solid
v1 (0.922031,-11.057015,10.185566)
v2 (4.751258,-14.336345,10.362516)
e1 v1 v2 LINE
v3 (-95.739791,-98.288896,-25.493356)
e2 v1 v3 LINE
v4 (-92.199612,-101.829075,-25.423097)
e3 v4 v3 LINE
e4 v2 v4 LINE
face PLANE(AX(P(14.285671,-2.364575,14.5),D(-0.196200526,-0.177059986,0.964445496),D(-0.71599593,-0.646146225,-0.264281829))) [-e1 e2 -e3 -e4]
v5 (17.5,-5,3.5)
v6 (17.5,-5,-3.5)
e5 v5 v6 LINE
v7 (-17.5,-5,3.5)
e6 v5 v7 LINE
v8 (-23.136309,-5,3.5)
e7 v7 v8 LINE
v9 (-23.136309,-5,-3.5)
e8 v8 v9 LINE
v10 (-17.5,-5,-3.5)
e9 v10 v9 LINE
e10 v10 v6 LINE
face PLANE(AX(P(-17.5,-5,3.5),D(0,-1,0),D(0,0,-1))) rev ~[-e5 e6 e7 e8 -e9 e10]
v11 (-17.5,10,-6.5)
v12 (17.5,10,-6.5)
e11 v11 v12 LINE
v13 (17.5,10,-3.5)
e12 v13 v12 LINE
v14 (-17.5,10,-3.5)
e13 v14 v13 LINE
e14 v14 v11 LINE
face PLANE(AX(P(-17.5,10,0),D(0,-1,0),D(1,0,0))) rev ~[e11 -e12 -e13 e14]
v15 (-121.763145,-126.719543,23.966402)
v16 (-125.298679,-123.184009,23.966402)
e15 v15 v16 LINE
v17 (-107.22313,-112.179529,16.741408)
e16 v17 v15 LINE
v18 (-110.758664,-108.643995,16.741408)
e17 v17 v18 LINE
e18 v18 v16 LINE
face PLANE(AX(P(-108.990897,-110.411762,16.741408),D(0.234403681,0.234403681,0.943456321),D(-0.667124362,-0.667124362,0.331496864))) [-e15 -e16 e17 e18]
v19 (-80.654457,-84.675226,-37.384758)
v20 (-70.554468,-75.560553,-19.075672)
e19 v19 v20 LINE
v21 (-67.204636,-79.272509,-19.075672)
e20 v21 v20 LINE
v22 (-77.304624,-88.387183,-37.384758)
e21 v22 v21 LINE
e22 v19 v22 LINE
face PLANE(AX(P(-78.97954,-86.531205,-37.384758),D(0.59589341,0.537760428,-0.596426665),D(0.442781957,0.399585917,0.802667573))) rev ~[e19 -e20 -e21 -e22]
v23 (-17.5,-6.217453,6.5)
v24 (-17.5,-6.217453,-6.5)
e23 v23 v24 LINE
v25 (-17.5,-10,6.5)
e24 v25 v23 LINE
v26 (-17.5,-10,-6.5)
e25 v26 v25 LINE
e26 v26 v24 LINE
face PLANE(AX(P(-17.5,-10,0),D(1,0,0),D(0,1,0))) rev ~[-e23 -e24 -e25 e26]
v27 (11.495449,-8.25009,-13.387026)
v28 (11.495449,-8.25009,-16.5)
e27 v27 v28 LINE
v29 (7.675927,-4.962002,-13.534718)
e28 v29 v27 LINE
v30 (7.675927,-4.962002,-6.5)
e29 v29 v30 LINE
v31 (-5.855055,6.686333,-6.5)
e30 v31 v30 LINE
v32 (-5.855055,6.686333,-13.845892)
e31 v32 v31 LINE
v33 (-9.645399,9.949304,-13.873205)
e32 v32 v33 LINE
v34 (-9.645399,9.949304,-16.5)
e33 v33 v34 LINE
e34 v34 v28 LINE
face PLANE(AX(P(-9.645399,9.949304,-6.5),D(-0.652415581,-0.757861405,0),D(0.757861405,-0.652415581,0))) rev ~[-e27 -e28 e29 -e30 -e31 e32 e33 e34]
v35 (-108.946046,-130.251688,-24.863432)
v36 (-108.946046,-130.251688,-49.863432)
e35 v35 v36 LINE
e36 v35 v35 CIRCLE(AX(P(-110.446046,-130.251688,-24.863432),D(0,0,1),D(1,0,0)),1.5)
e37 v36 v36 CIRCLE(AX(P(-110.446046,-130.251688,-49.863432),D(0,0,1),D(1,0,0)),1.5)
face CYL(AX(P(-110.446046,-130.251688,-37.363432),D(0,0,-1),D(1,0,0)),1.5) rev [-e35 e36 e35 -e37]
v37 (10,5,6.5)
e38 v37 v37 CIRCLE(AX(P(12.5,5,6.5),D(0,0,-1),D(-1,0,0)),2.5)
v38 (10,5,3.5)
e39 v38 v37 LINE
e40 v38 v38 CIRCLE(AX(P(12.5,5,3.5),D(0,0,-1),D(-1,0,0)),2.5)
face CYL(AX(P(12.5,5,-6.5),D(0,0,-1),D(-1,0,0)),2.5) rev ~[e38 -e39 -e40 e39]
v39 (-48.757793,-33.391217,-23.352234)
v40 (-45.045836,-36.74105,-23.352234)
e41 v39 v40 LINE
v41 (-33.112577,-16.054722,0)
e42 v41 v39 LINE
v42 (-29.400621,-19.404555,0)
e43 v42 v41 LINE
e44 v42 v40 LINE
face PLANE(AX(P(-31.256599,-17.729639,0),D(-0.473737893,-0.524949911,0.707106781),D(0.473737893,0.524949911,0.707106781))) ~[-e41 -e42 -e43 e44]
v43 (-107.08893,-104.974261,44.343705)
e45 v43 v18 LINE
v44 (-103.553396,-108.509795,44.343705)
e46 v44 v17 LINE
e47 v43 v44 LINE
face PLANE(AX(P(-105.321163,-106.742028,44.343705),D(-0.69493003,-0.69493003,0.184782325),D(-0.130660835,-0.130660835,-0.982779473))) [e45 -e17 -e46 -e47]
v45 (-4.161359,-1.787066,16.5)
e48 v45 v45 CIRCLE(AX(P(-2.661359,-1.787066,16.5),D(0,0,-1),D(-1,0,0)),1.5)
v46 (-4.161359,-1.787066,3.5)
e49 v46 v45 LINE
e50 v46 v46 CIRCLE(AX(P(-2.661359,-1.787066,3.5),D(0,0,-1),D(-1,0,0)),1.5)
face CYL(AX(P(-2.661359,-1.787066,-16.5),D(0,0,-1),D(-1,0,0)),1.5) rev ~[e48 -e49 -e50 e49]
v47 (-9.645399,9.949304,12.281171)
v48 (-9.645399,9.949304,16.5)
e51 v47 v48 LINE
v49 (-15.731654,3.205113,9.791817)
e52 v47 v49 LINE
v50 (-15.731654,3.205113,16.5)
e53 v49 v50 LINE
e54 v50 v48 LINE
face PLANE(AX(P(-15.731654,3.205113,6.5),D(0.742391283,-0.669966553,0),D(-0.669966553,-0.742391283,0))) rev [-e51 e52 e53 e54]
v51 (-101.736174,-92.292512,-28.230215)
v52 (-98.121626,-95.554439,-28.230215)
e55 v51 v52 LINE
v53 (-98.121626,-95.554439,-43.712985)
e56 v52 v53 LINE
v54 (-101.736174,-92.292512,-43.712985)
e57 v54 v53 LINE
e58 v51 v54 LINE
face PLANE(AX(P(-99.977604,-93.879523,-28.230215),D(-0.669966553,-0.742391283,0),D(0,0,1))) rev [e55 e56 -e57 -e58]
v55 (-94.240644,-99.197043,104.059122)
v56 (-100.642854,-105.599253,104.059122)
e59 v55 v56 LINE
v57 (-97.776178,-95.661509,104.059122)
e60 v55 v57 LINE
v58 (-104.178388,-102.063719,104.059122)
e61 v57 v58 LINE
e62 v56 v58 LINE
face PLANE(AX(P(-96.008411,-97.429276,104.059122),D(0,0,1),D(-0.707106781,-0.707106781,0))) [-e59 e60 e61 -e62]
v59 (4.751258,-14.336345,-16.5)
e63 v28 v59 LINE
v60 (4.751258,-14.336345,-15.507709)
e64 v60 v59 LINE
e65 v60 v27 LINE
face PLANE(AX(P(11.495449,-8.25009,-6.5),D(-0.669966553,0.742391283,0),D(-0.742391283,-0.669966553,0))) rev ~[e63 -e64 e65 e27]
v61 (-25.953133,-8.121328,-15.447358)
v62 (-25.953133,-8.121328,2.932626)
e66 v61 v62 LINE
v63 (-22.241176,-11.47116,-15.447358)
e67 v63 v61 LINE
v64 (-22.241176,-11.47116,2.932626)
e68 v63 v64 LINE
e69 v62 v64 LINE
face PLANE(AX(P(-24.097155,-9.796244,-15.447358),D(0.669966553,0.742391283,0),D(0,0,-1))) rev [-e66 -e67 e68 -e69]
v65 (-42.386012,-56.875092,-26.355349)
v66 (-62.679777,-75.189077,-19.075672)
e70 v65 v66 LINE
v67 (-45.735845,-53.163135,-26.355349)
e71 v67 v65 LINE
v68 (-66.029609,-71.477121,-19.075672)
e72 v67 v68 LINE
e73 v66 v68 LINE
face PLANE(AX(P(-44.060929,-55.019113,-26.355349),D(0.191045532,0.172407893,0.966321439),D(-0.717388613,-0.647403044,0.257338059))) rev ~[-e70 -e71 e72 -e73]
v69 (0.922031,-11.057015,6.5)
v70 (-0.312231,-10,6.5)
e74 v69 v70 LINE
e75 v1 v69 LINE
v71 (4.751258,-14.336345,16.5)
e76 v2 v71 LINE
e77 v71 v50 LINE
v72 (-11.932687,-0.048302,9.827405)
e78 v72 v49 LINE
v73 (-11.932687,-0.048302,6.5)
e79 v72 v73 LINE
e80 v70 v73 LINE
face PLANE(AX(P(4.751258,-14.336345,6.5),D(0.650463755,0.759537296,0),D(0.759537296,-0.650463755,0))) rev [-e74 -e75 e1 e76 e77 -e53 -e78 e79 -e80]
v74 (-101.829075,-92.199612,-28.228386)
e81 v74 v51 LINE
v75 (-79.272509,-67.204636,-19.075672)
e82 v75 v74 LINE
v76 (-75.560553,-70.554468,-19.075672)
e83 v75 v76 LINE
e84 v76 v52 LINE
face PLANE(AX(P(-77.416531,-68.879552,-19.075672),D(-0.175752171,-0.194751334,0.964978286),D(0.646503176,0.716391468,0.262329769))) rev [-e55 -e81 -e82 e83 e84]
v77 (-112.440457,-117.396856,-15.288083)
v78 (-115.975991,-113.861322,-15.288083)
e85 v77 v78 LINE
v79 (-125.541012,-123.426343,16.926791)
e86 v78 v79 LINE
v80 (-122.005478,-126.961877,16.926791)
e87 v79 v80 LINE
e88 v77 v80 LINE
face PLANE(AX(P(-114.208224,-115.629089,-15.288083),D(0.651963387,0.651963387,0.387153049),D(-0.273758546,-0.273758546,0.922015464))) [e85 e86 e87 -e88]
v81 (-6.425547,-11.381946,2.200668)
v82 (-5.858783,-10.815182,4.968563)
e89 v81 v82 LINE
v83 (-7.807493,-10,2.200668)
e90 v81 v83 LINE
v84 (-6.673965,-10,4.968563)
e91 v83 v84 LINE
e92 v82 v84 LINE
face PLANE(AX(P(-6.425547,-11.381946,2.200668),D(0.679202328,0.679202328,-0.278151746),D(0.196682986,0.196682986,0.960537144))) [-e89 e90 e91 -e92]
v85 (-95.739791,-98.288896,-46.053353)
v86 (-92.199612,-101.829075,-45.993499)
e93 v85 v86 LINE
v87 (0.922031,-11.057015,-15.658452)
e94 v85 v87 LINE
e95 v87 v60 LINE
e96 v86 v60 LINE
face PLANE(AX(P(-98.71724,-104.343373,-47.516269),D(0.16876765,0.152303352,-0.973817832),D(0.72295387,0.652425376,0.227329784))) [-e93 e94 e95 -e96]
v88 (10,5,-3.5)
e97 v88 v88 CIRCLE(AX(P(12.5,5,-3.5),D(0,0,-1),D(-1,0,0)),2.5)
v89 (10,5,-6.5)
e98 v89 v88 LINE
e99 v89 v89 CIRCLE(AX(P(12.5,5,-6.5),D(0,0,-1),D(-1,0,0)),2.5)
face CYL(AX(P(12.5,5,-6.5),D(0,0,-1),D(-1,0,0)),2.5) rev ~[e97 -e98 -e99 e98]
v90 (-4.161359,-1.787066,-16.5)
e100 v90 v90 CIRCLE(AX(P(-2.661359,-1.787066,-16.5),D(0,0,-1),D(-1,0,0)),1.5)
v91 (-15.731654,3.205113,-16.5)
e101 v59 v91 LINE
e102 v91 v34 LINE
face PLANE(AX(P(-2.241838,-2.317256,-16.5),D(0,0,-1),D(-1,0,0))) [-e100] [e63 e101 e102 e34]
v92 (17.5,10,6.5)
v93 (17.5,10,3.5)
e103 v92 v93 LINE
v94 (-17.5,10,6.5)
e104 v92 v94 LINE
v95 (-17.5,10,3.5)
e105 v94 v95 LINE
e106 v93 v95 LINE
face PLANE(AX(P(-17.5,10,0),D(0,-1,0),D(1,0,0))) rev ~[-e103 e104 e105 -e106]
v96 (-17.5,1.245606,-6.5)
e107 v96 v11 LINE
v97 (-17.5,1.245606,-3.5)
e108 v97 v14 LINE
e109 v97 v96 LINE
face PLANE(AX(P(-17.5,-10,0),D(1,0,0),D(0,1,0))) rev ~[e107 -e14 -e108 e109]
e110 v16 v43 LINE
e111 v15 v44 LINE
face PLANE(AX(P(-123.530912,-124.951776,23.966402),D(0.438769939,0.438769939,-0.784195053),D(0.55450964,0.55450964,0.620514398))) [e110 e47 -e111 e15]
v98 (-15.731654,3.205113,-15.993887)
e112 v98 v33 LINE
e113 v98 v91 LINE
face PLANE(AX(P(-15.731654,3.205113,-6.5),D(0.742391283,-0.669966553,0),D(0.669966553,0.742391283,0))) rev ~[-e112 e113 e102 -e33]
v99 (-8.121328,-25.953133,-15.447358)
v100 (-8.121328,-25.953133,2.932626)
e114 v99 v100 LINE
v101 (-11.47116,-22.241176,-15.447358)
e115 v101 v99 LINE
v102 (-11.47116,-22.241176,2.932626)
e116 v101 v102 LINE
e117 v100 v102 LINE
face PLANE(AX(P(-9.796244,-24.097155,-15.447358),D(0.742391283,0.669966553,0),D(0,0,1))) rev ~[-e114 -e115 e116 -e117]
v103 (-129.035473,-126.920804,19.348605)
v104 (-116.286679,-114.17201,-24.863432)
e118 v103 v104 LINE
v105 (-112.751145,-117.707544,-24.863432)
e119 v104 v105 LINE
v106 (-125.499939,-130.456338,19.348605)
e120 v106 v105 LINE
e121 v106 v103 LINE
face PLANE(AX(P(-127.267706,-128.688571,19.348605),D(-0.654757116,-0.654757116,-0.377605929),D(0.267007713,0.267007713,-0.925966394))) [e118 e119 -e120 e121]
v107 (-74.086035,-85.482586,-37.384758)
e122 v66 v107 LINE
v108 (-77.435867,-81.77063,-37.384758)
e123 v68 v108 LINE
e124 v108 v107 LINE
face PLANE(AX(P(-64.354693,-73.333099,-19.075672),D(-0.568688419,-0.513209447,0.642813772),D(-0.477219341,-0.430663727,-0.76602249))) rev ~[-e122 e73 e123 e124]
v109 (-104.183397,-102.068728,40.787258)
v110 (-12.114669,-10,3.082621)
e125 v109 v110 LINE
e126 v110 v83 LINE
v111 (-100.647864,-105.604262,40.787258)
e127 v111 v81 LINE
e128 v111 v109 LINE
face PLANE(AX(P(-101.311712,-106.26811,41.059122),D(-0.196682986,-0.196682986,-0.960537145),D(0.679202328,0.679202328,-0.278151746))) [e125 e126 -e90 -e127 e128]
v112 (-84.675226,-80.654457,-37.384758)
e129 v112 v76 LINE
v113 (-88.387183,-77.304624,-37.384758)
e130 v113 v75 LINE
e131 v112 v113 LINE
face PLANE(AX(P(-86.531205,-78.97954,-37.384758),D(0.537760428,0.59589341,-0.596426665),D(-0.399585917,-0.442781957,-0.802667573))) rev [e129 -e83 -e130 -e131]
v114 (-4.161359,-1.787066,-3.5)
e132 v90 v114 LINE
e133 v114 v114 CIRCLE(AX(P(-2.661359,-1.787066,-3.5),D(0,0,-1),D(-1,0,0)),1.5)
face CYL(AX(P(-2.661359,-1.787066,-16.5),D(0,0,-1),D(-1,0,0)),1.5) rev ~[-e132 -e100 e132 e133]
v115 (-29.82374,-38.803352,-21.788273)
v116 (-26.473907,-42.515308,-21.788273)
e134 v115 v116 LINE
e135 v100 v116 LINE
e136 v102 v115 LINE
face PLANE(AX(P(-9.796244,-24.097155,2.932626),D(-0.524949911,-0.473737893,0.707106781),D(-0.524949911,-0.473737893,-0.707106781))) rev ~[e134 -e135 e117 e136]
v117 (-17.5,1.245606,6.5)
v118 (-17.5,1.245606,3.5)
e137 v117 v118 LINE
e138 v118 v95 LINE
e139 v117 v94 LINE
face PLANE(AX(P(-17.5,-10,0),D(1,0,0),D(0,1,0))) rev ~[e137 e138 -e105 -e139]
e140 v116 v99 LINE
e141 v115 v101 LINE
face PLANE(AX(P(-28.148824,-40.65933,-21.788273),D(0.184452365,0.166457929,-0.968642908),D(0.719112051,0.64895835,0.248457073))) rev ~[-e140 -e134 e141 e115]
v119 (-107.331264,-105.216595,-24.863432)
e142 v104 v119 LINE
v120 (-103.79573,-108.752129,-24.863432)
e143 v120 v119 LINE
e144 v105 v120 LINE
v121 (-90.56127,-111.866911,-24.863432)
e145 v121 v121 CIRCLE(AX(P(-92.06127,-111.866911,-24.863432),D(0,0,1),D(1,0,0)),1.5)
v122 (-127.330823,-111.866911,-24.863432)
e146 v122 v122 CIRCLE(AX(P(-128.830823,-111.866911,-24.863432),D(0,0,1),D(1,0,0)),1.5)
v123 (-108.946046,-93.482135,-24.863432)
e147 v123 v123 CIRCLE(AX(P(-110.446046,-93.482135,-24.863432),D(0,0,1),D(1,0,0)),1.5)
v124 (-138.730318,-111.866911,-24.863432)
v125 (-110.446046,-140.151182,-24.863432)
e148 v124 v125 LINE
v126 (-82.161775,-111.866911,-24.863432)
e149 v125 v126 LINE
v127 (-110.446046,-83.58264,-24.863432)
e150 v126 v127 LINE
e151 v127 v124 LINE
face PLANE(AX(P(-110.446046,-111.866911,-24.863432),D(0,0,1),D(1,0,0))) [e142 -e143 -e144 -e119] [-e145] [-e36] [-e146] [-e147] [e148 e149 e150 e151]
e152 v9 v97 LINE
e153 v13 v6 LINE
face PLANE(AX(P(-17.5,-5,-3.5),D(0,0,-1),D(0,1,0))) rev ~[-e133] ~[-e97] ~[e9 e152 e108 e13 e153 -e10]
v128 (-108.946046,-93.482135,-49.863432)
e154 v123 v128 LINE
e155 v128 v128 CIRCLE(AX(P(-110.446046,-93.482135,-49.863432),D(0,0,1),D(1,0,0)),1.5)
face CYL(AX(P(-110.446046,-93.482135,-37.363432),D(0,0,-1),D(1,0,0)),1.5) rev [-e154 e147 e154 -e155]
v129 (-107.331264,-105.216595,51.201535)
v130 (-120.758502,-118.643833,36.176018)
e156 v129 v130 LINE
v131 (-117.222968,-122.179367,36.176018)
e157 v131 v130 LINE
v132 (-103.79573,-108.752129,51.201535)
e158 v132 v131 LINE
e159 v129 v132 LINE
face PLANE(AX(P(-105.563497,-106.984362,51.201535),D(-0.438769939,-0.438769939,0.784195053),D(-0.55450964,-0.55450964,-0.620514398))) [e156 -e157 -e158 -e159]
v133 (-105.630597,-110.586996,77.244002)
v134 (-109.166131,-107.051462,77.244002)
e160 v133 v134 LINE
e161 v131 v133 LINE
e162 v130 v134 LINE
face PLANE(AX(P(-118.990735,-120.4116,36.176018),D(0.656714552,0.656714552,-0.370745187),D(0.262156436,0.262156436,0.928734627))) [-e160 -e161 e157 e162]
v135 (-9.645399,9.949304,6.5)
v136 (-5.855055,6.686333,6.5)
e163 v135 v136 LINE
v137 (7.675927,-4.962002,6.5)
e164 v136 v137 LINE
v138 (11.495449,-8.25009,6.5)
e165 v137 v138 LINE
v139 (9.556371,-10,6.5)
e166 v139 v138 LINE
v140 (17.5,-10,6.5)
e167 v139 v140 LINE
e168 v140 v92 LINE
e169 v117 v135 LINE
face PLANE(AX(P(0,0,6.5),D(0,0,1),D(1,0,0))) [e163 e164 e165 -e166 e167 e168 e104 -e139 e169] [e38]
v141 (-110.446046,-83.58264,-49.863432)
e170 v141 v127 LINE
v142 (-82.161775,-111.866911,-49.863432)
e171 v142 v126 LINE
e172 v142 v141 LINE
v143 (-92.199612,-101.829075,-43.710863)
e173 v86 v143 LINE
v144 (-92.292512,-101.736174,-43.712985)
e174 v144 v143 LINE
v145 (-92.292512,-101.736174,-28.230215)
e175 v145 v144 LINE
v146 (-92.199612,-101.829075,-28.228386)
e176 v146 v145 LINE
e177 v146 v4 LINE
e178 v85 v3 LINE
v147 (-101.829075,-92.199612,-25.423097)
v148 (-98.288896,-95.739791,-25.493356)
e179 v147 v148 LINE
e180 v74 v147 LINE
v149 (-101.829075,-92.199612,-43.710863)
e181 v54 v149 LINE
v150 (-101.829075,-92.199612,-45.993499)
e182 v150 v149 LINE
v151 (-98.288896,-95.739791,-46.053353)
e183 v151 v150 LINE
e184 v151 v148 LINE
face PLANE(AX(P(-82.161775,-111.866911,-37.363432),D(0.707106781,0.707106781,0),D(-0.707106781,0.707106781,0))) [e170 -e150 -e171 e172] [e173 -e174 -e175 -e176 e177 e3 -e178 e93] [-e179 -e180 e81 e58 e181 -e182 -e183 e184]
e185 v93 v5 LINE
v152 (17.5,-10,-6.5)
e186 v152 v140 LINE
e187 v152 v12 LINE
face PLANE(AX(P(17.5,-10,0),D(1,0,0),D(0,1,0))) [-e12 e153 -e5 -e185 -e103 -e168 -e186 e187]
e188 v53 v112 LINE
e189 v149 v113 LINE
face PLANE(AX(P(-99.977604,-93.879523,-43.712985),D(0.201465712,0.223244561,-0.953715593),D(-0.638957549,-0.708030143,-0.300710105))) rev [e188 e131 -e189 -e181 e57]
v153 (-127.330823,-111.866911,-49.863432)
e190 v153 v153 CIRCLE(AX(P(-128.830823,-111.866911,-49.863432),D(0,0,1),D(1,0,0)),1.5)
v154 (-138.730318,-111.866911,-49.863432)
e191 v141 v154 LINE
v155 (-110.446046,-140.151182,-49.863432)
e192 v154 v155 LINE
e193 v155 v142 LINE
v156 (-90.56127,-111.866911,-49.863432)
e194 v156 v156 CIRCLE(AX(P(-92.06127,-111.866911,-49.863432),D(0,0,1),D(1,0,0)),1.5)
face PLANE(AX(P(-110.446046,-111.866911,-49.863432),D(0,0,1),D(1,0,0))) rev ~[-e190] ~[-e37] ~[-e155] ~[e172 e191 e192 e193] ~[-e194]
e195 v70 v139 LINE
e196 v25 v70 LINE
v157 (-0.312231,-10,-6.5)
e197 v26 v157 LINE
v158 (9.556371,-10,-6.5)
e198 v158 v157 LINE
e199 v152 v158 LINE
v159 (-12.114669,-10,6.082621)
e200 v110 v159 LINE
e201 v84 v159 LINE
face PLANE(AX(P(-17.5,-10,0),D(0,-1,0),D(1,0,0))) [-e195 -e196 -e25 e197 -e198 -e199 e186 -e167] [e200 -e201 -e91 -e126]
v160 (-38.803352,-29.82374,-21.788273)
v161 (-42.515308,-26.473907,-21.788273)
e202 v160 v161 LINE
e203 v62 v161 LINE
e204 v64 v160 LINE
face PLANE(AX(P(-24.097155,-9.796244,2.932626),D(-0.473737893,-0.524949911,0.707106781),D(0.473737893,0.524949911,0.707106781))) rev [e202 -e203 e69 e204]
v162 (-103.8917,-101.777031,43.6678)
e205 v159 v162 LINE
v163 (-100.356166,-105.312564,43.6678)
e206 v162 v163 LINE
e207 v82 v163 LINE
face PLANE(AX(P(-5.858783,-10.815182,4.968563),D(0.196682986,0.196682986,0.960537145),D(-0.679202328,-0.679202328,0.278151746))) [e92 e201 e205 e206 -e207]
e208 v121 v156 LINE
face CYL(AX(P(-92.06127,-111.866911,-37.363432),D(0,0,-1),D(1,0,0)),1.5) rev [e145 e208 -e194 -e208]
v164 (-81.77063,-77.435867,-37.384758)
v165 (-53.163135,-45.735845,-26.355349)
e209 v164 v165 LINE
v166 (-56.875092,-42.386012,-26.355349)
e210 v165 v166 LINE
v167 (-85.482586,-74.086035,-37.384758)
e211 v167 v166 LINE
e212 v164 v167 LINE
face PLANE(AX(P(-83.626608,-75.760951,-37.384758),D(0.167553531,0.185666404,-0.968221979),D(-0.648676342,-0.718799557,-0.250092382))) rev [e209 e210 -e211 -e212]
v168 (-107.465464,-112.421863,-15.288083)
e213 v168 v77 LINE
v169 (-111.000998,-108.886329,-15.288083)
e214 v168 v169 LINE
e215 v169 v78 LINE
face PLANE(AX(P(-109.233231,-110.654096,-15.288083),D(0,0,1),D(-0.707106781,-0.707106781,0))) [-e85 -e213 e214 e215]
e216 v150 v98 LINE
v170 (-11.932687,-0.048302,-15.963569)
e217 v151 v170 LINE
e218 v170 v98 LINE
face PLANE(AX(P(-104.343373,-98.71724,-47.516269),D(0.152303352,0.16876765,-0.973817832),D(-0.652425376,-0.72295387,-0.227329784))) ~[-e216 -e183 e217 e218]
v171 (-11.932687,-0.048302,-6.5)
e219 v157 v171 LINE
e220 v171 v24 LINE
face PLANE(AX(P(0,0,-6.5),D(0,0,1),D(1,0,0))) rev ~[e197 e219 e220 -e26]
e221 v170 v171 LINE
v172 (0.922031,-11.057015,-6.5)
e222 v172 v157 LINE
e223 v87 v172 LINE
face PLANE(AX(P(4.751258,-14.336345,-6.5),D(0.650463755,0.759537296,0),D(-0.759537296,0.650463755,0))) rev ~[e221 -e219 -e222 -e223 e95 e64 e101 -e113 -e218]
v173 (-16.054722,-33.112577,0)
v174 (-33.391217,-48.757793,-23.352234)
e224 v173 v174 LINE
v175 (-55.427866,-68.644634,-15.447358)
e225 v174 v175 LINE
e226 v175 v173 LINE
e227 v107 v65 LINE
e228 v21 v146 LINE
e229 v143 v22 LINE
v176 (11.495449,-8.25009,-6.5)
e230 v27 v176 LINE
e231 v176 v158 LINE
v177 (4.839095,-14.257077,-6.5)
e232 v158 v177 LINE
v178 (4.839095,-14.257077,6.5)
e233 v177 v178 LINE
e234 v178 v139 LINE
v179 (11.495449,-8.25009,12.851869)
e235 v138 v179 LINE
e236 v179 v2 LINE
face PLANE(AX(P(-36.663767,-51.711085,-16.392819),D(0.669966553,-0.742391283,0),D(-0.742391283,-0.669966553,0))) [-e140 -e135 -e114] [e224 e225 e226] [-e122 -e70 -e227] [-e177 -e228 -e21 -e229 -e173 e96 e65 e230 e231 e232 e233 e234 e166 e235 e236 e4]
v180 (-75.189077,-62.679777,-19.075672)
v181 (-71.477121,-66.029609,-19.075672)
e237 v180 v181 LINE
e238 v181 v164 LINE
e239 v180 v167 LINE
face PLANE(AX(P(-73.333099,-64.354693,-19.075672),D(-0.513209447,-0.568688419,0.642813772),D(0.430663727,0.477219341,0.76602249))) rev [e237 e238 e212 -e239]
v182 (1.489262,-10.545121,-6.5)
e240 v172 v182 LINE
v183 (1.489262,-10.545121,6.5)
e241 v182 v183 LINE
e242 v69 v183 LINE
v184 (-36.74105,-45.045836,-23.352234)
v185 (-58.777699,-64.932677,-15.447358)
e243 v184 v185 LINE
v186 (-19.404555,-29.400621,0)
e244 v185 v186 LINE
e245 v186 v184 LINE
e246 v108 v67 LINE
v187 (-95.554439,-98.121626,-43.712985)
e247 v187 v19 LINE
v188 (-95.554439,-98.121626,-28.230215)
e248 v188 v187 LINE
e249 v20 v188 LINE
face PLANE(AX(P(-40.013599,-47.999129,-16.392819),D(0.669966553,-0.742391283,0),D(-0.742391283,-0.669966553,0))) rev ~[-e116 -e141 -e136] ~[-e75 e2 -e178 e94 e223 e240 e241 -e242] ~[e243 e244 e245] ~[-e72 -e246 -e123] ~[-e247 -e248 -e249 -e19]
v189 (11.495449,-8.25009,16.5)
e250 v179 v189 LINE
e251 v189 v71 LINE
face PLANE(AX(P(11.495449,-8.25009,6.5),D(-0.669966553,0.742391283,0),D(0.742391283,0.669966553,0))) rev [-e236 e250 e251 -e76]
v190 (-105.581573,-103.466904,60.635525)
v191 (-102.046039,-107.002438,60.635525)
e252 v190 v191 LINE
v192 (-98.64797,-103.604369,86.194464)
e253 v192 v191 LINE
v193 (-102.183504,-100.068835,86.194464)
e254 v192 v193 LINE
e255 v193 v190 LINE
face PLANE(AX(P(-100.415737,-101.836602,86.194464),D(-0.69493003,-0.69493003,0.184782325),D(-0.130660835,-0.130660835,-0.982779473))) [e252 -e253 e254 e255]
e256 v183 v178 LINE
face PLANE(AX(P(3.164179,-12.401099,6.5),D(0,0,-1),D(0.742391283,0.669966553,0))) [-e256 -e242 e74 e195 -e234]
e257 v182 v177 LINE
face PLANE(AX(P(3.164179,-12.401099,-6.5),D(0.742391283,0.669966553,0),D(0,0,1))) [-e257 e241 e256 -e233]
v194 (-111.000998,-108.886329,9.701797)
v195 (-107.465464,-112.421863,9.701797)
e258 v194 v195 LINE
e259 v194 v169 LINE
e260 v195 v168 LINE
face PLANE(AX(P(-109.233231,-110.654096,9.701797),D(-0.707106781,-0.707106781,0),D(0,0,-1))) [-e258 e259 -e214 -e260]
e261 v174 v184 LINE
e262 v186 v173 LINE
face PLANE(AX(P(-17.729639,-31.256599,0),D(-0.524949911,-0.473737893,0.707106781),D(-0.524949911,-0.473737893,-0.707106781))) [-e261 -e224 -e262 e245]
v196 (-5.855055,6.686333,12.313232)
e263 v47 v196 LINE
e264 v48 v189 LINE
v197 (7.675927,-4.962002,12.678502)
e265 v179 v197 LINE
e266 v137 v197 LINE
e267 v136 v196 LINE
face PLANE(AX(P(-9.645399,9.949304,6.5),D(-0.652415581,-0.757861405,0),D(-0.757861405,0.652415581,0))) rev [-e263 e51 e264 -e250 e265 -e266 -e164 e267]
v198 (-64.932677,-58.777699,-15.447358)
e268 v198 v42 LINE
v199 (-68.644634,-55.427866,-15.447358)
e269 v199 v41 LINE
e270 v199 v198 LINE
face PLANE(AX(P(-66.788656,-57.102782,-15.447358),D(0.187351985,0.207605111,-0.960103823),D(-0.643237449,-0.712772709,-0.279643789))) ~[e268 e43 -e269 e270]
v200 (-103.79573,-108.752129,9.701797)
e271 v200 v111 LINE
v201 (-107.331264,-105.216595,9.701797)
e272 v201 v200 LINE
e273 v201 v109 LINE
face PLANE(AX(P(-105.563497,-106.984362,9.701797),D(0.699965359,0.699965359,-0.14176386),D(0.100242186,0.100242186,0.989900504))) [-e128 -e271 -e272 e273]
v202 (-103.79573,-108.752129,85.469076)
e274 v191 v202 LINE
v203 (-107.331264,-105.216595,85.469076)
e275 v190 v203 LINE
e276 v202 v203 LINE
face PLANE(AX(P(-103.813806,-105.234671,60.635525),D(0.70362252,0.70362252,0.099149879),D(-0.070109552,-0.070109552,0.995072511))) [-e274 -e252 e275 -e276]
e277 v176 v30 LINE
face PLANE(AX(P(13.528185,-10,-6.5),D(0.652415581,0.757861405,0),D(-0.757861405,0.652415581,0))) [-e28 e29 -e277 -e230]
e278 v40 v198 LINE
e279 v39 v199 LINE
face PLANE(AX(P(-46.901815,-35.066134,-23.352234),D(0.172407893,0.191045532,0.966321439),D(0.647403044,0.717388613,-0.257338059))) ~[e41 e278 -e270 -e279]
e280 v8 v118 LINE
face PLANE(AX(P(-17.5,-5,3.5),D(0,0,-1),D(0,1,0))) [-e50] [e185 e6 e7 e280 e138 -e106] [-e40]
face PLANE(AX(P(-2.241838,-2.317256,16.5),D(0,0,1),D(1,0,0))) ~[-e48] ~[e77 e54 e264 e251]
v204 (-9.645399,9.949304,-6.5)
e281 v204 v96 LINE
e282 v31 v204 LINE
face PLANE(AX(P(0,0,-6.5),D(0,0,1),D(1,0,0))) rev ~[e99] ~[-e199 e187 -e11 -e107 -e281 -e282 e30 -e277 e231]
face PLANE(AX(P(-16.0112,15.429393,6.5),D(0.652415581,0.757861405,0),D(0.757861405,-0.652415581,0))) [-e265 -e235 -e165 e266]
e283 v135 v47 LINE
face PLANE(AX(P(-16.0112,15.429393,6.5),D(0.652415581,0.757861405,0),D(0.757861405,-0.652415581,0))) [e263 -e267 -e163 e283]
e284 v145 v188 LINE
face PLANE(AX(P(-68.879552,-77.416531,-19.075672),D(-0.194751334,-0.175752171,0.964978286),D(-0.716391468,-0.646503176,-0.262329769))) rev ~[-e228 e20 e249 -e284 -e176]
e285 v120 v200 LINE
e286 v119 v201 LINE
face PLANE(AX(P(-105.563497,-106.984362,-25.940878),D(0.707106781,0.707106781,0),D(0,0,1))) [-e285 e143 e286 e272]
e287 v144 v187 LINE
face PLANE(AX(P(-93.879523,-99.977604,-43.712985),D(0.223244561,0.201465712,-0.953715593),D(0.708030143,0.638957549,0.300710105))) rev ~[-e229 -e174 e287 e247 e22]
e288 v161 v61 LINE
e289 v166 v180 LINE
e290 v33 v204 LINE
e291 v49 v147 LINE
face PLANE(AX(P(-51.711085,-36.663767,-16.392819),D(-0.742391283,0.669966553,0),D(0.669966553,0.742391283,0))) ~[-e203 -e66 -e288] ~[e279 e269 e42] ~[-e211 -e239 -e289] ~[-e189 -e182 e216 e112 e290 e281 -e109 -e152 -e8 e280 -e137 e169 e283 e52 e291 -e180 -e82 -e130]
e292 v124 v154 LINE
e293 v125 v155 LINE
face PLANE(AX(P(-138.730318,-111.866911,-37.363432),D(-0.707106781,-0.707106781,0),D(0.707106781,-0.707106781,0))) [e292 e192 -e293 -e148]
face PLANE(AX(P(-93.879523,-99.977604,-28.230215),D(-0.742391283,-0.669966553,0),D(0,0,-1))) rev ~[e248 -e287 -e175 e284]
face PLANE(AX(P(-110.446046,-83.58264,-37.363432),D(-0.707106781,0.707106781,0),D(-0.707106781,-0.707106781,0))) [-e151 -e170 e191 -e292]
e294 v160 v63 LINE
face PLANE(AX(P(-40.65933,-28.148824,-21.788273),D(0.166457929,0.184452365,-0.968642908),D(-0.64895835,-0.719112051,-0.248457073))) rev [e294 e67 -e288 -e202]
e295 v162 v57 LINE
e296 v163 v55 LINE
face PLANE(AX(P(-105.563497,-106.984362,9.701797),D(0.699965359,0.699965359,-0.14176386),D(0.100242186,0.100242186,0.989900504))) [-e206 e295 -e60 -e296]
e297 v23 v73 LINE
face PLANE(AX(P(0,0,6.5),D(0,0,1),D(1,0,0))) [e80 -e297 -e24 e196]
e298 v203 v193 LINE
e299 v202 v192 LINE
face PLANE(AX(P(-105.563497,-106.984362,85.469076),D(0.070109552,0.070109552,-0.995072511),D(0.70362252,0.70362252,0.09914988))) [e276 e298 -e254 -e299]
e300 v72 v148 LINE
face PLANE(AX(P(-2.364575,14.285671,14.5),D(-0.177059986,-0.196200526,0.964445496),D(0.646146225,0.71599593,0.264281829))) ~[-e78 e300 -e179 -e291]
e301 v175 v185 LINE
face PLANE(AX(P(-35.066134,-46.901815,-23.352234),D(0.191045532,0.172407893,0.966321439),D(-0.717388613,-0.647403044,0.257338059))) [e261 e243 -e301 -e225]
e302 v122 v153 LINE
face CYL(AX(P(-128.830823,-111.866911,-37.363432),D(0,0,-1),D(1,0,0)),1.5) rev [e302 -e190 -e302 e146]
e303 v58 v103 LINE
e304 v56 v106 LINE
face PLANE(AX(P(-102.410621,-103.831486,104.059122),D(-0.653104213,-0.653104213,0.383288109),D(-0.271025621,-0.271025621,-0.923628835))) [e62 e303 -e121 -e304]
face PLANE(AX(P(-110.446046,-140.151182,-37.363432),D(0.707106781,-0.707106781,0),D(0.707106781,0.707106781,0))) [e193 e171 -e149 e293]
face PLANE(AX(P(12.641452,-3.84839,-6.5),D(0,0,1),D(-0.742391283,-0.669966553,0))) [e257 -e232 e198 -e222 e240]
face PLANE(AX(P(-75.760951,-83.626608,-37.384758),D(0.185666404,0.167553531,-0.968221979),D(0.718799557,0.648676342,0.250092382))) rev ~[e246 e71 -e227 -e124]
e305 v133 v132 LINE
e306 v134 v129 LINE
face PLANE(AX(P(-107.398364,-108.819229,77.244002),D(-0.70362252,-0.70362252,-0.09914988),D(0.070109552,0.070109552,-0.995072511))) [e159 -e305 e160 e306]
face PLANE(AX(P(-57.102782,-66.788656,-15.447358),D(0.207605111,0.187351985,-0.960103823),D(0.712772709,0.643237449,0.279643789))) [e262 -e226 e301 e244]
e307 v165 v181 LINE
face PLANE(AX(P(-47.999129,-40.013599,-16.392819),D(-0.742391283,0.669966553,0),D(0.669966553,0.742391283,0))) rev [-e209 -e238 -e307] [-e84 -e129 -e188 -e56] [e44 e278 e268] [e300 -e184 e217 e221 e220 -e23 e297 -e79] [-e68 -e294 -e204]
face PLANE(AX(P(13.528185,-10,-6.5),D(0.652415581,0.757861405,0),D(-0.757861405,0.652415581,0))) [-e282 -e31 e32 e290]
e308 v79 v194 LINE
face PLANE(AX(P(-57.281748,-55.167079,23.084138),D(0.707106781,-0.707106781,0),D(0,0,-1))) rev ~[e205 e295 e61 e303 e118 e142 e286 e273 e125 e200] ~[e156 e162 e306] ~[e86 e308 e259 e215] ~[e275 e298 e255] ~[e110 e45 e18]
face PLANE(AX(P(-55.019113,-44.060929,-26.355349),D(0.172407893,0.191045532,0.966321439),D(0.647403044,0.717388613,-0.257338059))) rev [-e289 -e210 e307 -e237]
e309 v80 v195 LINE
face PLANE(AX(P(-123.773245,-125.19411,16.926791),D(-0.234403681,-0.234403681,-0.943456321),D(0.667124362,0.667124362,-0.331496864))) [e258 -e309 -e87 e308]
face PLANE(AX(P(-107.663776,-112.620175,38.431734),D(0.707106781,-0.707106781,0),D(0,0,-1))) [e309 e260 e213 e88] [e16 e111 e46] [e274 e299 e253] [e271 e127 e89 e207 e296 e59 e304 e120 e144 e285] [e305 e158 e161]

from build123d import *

# Parameters (mm, degrees)
SKETCH10_W               = 35
SKETCH10_H               = 20
BOSS_EXTRUDE9_DEPTH      = 6.5
SKETCH11_W               = 7
SKETCH11_H               = 15
CUT_EXTRUDE4_DEPTH       = 1
CUT_EXTRUDE4_DEPTH_BACK  = 36
BOSS_EXTRUDE10_DEPTH     = 2.5
CUT_EXTRUDE5_DEPTH       = 20
CUT_EXTRUDE6_DEPTH       = 20
BOSS_EXTRUDE11_DEPTH     = 10
SKETCH23_R               = 1.5
CUT_EXTRUDE7_DEPTH       = 34
SKETCH25_R               = 1.5
BOSS_EXTRUDE12_DEPTH     = 12.5
SKETCH27_W               = 7
SKETCH27_H               = 15
CUT_EXTRUDE9_DEPTH       = 20
SKETCH28_W               = 7
SKETCH28_H               = 6.245605743
CUT_EXTRUDE10_DEPTH      = 20
BOSS_EXTRUDE13_DEPTH     = 2.5
BOSS_EXTRUDE14_DEPTH     = 5
SKETCH31_R               = 2.5
CUT_EXTRUDE11_DEPTH      = 44.363432005
CUT_EXTRUDE11_DEPTH_BACK = 111.559122284


with BuildPart() as part:
    # Sketch10 → Boss-Extrude9 (new body, symmetric)
    with BuildSketch(Plane.XY):
        Rectangle(SKETCH10_W, SKETCH10_H)
    extrude(amount=BOSS_EXTRUDE9_DEPTH, both=True)

    # Sketch11 → Cut-Extrude4 (cut, two sides)
    with BuildSketch(Plane.ZY.offset(17.5)) as cut_extrude4_sk:
        with Locations((0, 2.5)):
            Rectangle(SKETCH11_W, SKETCH11_H)
    extrude(amount=CUT_EXTRUDE4_DEPTH, mode=Mode.SUBTRACT)
    extrude(cut_extrude4_sk.sketch, amount=-CUT_EXTRUDE4_DEPTH_BACK, mode=Mode.SUBTRACT)

    # Sketch19 → Boss-Extrude10 (add, symmetric)
    with BuildSketch(Plane(origin=(7.588283472, -8.408592155, 0), x_dir=(-0.742391283, -0.669966553, 0), z_dir=(0.669966553, -0.742391283, 0))):
        Polygon((-6.806611372, 12.5), (-6.806611372, 6.5), (5.959262629, 6.5), (5.959262629, -6.5), (-9.021371158, -6.5), (-9.021371158, -14.5), (143.193388628, 27.210594591), (143.193388628, 47.516269419), align=None)
        Polygon((23.416933748, 15.447357766), (23.416933748, -2.932626146), (48.137832442, 21.788272547), align=None, mode=Mode.SUBTRACT)
        Polygon((34.103204957, 0), (57.455439154, 23.352234198), (87.138773177, 15.447357766), align=None, mode=Mode.SUBTRACT)
        Polygon((69.571415231, 26.355349278), (96.907086696, 19.075671565), (112.271299908, 37.384757918), align=None, mode=Mode.SUBTRACT)
        Polygon((116.606735087, 37.384757918), (103.00206527, 19.075671565), (136.676990559, 28.230214742), (136.676990559, 43.712984767), align=None, mode=Mode.SUBTRACT)
    boss_extrude10 = extrude(amount=BOSS_EXTRUDE10_DEPTH, both=True)

    # Mirror3: Boss-Extrude10 across plane
    add(boss_extrude10.mirror(Plane(origin=(0, 0, 0), x_dir=(0, 0, 1), z_dir=(-0.707106781, 0.707106781, 0))))

    # Sketch20 → Cut-Extrude5 (cut)
    with BuildSketch(Plane(origin=(0, 0, -6.5), x_dir=(-1, 0, 0), z_dir=(0, 0, -1))):
        Polygon((-13.528185403, -10), (16.011199993, 15.429392684), (-17.5, 15.429392684), (-17.5, -10), align=None)
    extrude(amount=CUT_EXTRUDE5_DEPTH, mode=Mode.SUBTRACT)

    # Sketch21 → Cut-Extrude6 (cut)
    with BuildSketch(Plane.XY.offset(6.5)):
        Polygon((-16.011199993, 15.429392684), (13.528185403, -10), (17.5, -10), (17.5, 17.942203717), align=None)
    extrude(amount=CUT_EXTRUDE6_DEPTH, mode=Mode.SUBTRACT)

    # Sketch22 → Boss-Extrude11 (add)
    with BuildSketch(Plane(origin=(0, 0, -6.5), x_dir=(-1, 0, 0), z_dir=(0, 0, -1))):
        Polygon((-4.751258092, -14.336345099), (15.731654079, 3.20511341), (9.645399477, 9.949304357), (-11.495449039, -8.250090497), align=None)
    boss_extrude11 = extrude(amount=BOSS_EXTRUDE11_DEPTH)

    # Mirror5: Boss-Extrude11 across plane
    add(boss_extrude11.mirror(Plane.XY))

    # Sketch23 → Cut-Extrude7 (cut, through all)
    with BuildSketch(Plane(origin=(0, 0, -16.5), x_dir=(-1, 0, 0), z_dir=(0, 0, -1))):
        with Locations((2.661358897, -1.787066196)):
            Circle(SKETCH23_R)
    extrude(amount=-CUT_EXTRUDE7_DEPTH, mode=Mode.SUBTRACT)

    # Sketch25 → Boss-Extrude12 (add, symmetric)
    with BuildSketch(Plane.XY.offset(-37.363432005)):
        Polygon((-110.446046435, -140.151182494), (-82.161775188, -111.866911247), (-110.446046435, -83.582639999), (-138.730317683, -111.866911247), align=None)
        with Locations((-110.446046435, -93.482134936)):
            Circle(SKETCH25_R, mode=Mode.SUBTRACT)
        with Locations((-92.061270124, -111.866911247)):
            Circle(SKETCH25_R, mode=Mode.SUBTRACT)
        with Locations((-110.446046435, -130.251687558)):
            Circle(SKETCH25_R, mode=Mode.SUBTRACT)
        with Locations((-128.830822746, -111.866911247)):
            Circle(SKETCH25_R, mode=Mode.SUBTRACT)
    extrude(amount=BOSS_EXTRUDE12_DEPTH, both=True)

    # Sketch27 → Cut-Extrude9 (cut)
    with BuildSketch(Plane.ZY.offset(17.5)):
        with Locations((0, 2.5)):
            Rectangle(SKETCH27_W, SKETCH27_H)
    extrude(amount=-CUT_EXTRUDE9_DEPTH, mode=Mode.SUBTRACT)

    # Sketch28 → Cut-Extrude10 (cut)
    with BuildSketch(Plane(origin=(-17.5, 0, 0), x_dir=(0, 0, -1), z_dir=(1, 0, 0))):
        with Locations((0, -1.877197128)):
            Rectangle(SKETCH28_W, SKETCH28_H)
    extrude(amount=-CUT_EXTRUDE10_DEPTH, mode=Mode.SUBTRACT)

    # Sketch29 → Boss-Extrude13 (add, symmetric)
    with BuildSketch(Plane(origin=(0.710432406, -0.710432406, 0), x_dir=(0, 0, -1), z_dir=(0.707106781, -0.707106781, 0))):
        Polygon((-19.348604545, -180.98841896), (25.940877716, -162.519522981), (25.940877716, -150.294032198), (-9.701797277, -150.294032198), (-104.059122284, -136.781099823), (-104.059122284, -145.835191948), align=None)
        Polygon((-86.194464325, -143.014000871), (-85.469075751, -150.294032198), (-60.635525341, -147.819595909), align=None, mode=Mode.SUBTRACT)
        Polygon((-77.244001552, -152.888925889), (-36.176017731, -169.28301403), (-51.201535414, -150.294032198), align=None, mode=Mode.SUBTRACT)
        Polygon((15.288083197, -155.48381958), (-9.701797277, -155.48381958), (-16.926790753, -176.046505079), (15.288083197, -162.519522981), align=None, mode=Mode.SUBTRACT)
        Polygon((-23.96640174, -175.703793654), (-44.343704752, -149.951320773), (-16.741408265, -155.141108155), align=None, mode=Mode.SUBTRACT)
        Polygon((25.940877716, -162.519522981), (25.940877716, -150.294032198), (-9.701797277, -150.294032198), (-104.059122284, -136.781099823), (-104.059122284, -145.835191948), (-19.348604545, -180.98841896), align=None)
        Polygon((-51.201535414, -150.294032198), (-36.176017731, -169.28301403), (-77.244001552, -152.888925889), align=None, mode=Mode.SUBTRACT)
        Polygon((-44.343704752, -149.951320773), (-16.741408265, -155.141108155), (-23.96640174, -175.703793654), align=None, mode=Mode.SUBTRACT)
        Polygon((-16.926790753, -176.046505079), (-9.701797277, -155.48381958), (15.288083197, -155.48381958), (15.288083197, -162.519522981), align=None, mode=Mode.SUBTRACT)
        Polygon((-60.635525341, -147.819595909), (-85.469075751, -150.294032198), (-86.194464325, -143.014000871), align=None, mode=Mode.SUBTRACT)
    extrude(amount=BOSS_EXTRUDE13_DEPTH, both=True)

    # Sketch30 → Boss-Extrude14 (add)
    with BuildSketch(Plane(origin=(2.478199359, -2.478199359, 0), x_dir=(0, 0, -1), z_dir=(0.707106781, -0.707106781, 0))):
        Polygon((-41.059122284, -146.781099823), (-2.200668351, -12.59179888), (-4.968563169, -11.790273627), (-44.059122284, -146.781099823), align=None)
    extrude(amount=-BOSS_EXTRUDE14_DEPTH)

    # Sketch31 → Cut-Extrude11 (cut, two sides)
    with BuildSketch(Plane(origin=(0, 0, -6.5), x_dir=(-1, 0, 0), z_dir=(0, 0, -1))) as cut_extrude11_sk:
        with Locations((-12.5, 5)):
            Circle(SKETCH31_R)
    extrude(amount=CUT_EXTRUDE11_DEPTH, mode=Mode.SUBTRACT)
    extrude(cut_extrude11_sk.sketch, amount=-CUT_EXTRUDE11_DEPTH_BACK, mode=Mode.SUBTRACT)


solid = part.part
